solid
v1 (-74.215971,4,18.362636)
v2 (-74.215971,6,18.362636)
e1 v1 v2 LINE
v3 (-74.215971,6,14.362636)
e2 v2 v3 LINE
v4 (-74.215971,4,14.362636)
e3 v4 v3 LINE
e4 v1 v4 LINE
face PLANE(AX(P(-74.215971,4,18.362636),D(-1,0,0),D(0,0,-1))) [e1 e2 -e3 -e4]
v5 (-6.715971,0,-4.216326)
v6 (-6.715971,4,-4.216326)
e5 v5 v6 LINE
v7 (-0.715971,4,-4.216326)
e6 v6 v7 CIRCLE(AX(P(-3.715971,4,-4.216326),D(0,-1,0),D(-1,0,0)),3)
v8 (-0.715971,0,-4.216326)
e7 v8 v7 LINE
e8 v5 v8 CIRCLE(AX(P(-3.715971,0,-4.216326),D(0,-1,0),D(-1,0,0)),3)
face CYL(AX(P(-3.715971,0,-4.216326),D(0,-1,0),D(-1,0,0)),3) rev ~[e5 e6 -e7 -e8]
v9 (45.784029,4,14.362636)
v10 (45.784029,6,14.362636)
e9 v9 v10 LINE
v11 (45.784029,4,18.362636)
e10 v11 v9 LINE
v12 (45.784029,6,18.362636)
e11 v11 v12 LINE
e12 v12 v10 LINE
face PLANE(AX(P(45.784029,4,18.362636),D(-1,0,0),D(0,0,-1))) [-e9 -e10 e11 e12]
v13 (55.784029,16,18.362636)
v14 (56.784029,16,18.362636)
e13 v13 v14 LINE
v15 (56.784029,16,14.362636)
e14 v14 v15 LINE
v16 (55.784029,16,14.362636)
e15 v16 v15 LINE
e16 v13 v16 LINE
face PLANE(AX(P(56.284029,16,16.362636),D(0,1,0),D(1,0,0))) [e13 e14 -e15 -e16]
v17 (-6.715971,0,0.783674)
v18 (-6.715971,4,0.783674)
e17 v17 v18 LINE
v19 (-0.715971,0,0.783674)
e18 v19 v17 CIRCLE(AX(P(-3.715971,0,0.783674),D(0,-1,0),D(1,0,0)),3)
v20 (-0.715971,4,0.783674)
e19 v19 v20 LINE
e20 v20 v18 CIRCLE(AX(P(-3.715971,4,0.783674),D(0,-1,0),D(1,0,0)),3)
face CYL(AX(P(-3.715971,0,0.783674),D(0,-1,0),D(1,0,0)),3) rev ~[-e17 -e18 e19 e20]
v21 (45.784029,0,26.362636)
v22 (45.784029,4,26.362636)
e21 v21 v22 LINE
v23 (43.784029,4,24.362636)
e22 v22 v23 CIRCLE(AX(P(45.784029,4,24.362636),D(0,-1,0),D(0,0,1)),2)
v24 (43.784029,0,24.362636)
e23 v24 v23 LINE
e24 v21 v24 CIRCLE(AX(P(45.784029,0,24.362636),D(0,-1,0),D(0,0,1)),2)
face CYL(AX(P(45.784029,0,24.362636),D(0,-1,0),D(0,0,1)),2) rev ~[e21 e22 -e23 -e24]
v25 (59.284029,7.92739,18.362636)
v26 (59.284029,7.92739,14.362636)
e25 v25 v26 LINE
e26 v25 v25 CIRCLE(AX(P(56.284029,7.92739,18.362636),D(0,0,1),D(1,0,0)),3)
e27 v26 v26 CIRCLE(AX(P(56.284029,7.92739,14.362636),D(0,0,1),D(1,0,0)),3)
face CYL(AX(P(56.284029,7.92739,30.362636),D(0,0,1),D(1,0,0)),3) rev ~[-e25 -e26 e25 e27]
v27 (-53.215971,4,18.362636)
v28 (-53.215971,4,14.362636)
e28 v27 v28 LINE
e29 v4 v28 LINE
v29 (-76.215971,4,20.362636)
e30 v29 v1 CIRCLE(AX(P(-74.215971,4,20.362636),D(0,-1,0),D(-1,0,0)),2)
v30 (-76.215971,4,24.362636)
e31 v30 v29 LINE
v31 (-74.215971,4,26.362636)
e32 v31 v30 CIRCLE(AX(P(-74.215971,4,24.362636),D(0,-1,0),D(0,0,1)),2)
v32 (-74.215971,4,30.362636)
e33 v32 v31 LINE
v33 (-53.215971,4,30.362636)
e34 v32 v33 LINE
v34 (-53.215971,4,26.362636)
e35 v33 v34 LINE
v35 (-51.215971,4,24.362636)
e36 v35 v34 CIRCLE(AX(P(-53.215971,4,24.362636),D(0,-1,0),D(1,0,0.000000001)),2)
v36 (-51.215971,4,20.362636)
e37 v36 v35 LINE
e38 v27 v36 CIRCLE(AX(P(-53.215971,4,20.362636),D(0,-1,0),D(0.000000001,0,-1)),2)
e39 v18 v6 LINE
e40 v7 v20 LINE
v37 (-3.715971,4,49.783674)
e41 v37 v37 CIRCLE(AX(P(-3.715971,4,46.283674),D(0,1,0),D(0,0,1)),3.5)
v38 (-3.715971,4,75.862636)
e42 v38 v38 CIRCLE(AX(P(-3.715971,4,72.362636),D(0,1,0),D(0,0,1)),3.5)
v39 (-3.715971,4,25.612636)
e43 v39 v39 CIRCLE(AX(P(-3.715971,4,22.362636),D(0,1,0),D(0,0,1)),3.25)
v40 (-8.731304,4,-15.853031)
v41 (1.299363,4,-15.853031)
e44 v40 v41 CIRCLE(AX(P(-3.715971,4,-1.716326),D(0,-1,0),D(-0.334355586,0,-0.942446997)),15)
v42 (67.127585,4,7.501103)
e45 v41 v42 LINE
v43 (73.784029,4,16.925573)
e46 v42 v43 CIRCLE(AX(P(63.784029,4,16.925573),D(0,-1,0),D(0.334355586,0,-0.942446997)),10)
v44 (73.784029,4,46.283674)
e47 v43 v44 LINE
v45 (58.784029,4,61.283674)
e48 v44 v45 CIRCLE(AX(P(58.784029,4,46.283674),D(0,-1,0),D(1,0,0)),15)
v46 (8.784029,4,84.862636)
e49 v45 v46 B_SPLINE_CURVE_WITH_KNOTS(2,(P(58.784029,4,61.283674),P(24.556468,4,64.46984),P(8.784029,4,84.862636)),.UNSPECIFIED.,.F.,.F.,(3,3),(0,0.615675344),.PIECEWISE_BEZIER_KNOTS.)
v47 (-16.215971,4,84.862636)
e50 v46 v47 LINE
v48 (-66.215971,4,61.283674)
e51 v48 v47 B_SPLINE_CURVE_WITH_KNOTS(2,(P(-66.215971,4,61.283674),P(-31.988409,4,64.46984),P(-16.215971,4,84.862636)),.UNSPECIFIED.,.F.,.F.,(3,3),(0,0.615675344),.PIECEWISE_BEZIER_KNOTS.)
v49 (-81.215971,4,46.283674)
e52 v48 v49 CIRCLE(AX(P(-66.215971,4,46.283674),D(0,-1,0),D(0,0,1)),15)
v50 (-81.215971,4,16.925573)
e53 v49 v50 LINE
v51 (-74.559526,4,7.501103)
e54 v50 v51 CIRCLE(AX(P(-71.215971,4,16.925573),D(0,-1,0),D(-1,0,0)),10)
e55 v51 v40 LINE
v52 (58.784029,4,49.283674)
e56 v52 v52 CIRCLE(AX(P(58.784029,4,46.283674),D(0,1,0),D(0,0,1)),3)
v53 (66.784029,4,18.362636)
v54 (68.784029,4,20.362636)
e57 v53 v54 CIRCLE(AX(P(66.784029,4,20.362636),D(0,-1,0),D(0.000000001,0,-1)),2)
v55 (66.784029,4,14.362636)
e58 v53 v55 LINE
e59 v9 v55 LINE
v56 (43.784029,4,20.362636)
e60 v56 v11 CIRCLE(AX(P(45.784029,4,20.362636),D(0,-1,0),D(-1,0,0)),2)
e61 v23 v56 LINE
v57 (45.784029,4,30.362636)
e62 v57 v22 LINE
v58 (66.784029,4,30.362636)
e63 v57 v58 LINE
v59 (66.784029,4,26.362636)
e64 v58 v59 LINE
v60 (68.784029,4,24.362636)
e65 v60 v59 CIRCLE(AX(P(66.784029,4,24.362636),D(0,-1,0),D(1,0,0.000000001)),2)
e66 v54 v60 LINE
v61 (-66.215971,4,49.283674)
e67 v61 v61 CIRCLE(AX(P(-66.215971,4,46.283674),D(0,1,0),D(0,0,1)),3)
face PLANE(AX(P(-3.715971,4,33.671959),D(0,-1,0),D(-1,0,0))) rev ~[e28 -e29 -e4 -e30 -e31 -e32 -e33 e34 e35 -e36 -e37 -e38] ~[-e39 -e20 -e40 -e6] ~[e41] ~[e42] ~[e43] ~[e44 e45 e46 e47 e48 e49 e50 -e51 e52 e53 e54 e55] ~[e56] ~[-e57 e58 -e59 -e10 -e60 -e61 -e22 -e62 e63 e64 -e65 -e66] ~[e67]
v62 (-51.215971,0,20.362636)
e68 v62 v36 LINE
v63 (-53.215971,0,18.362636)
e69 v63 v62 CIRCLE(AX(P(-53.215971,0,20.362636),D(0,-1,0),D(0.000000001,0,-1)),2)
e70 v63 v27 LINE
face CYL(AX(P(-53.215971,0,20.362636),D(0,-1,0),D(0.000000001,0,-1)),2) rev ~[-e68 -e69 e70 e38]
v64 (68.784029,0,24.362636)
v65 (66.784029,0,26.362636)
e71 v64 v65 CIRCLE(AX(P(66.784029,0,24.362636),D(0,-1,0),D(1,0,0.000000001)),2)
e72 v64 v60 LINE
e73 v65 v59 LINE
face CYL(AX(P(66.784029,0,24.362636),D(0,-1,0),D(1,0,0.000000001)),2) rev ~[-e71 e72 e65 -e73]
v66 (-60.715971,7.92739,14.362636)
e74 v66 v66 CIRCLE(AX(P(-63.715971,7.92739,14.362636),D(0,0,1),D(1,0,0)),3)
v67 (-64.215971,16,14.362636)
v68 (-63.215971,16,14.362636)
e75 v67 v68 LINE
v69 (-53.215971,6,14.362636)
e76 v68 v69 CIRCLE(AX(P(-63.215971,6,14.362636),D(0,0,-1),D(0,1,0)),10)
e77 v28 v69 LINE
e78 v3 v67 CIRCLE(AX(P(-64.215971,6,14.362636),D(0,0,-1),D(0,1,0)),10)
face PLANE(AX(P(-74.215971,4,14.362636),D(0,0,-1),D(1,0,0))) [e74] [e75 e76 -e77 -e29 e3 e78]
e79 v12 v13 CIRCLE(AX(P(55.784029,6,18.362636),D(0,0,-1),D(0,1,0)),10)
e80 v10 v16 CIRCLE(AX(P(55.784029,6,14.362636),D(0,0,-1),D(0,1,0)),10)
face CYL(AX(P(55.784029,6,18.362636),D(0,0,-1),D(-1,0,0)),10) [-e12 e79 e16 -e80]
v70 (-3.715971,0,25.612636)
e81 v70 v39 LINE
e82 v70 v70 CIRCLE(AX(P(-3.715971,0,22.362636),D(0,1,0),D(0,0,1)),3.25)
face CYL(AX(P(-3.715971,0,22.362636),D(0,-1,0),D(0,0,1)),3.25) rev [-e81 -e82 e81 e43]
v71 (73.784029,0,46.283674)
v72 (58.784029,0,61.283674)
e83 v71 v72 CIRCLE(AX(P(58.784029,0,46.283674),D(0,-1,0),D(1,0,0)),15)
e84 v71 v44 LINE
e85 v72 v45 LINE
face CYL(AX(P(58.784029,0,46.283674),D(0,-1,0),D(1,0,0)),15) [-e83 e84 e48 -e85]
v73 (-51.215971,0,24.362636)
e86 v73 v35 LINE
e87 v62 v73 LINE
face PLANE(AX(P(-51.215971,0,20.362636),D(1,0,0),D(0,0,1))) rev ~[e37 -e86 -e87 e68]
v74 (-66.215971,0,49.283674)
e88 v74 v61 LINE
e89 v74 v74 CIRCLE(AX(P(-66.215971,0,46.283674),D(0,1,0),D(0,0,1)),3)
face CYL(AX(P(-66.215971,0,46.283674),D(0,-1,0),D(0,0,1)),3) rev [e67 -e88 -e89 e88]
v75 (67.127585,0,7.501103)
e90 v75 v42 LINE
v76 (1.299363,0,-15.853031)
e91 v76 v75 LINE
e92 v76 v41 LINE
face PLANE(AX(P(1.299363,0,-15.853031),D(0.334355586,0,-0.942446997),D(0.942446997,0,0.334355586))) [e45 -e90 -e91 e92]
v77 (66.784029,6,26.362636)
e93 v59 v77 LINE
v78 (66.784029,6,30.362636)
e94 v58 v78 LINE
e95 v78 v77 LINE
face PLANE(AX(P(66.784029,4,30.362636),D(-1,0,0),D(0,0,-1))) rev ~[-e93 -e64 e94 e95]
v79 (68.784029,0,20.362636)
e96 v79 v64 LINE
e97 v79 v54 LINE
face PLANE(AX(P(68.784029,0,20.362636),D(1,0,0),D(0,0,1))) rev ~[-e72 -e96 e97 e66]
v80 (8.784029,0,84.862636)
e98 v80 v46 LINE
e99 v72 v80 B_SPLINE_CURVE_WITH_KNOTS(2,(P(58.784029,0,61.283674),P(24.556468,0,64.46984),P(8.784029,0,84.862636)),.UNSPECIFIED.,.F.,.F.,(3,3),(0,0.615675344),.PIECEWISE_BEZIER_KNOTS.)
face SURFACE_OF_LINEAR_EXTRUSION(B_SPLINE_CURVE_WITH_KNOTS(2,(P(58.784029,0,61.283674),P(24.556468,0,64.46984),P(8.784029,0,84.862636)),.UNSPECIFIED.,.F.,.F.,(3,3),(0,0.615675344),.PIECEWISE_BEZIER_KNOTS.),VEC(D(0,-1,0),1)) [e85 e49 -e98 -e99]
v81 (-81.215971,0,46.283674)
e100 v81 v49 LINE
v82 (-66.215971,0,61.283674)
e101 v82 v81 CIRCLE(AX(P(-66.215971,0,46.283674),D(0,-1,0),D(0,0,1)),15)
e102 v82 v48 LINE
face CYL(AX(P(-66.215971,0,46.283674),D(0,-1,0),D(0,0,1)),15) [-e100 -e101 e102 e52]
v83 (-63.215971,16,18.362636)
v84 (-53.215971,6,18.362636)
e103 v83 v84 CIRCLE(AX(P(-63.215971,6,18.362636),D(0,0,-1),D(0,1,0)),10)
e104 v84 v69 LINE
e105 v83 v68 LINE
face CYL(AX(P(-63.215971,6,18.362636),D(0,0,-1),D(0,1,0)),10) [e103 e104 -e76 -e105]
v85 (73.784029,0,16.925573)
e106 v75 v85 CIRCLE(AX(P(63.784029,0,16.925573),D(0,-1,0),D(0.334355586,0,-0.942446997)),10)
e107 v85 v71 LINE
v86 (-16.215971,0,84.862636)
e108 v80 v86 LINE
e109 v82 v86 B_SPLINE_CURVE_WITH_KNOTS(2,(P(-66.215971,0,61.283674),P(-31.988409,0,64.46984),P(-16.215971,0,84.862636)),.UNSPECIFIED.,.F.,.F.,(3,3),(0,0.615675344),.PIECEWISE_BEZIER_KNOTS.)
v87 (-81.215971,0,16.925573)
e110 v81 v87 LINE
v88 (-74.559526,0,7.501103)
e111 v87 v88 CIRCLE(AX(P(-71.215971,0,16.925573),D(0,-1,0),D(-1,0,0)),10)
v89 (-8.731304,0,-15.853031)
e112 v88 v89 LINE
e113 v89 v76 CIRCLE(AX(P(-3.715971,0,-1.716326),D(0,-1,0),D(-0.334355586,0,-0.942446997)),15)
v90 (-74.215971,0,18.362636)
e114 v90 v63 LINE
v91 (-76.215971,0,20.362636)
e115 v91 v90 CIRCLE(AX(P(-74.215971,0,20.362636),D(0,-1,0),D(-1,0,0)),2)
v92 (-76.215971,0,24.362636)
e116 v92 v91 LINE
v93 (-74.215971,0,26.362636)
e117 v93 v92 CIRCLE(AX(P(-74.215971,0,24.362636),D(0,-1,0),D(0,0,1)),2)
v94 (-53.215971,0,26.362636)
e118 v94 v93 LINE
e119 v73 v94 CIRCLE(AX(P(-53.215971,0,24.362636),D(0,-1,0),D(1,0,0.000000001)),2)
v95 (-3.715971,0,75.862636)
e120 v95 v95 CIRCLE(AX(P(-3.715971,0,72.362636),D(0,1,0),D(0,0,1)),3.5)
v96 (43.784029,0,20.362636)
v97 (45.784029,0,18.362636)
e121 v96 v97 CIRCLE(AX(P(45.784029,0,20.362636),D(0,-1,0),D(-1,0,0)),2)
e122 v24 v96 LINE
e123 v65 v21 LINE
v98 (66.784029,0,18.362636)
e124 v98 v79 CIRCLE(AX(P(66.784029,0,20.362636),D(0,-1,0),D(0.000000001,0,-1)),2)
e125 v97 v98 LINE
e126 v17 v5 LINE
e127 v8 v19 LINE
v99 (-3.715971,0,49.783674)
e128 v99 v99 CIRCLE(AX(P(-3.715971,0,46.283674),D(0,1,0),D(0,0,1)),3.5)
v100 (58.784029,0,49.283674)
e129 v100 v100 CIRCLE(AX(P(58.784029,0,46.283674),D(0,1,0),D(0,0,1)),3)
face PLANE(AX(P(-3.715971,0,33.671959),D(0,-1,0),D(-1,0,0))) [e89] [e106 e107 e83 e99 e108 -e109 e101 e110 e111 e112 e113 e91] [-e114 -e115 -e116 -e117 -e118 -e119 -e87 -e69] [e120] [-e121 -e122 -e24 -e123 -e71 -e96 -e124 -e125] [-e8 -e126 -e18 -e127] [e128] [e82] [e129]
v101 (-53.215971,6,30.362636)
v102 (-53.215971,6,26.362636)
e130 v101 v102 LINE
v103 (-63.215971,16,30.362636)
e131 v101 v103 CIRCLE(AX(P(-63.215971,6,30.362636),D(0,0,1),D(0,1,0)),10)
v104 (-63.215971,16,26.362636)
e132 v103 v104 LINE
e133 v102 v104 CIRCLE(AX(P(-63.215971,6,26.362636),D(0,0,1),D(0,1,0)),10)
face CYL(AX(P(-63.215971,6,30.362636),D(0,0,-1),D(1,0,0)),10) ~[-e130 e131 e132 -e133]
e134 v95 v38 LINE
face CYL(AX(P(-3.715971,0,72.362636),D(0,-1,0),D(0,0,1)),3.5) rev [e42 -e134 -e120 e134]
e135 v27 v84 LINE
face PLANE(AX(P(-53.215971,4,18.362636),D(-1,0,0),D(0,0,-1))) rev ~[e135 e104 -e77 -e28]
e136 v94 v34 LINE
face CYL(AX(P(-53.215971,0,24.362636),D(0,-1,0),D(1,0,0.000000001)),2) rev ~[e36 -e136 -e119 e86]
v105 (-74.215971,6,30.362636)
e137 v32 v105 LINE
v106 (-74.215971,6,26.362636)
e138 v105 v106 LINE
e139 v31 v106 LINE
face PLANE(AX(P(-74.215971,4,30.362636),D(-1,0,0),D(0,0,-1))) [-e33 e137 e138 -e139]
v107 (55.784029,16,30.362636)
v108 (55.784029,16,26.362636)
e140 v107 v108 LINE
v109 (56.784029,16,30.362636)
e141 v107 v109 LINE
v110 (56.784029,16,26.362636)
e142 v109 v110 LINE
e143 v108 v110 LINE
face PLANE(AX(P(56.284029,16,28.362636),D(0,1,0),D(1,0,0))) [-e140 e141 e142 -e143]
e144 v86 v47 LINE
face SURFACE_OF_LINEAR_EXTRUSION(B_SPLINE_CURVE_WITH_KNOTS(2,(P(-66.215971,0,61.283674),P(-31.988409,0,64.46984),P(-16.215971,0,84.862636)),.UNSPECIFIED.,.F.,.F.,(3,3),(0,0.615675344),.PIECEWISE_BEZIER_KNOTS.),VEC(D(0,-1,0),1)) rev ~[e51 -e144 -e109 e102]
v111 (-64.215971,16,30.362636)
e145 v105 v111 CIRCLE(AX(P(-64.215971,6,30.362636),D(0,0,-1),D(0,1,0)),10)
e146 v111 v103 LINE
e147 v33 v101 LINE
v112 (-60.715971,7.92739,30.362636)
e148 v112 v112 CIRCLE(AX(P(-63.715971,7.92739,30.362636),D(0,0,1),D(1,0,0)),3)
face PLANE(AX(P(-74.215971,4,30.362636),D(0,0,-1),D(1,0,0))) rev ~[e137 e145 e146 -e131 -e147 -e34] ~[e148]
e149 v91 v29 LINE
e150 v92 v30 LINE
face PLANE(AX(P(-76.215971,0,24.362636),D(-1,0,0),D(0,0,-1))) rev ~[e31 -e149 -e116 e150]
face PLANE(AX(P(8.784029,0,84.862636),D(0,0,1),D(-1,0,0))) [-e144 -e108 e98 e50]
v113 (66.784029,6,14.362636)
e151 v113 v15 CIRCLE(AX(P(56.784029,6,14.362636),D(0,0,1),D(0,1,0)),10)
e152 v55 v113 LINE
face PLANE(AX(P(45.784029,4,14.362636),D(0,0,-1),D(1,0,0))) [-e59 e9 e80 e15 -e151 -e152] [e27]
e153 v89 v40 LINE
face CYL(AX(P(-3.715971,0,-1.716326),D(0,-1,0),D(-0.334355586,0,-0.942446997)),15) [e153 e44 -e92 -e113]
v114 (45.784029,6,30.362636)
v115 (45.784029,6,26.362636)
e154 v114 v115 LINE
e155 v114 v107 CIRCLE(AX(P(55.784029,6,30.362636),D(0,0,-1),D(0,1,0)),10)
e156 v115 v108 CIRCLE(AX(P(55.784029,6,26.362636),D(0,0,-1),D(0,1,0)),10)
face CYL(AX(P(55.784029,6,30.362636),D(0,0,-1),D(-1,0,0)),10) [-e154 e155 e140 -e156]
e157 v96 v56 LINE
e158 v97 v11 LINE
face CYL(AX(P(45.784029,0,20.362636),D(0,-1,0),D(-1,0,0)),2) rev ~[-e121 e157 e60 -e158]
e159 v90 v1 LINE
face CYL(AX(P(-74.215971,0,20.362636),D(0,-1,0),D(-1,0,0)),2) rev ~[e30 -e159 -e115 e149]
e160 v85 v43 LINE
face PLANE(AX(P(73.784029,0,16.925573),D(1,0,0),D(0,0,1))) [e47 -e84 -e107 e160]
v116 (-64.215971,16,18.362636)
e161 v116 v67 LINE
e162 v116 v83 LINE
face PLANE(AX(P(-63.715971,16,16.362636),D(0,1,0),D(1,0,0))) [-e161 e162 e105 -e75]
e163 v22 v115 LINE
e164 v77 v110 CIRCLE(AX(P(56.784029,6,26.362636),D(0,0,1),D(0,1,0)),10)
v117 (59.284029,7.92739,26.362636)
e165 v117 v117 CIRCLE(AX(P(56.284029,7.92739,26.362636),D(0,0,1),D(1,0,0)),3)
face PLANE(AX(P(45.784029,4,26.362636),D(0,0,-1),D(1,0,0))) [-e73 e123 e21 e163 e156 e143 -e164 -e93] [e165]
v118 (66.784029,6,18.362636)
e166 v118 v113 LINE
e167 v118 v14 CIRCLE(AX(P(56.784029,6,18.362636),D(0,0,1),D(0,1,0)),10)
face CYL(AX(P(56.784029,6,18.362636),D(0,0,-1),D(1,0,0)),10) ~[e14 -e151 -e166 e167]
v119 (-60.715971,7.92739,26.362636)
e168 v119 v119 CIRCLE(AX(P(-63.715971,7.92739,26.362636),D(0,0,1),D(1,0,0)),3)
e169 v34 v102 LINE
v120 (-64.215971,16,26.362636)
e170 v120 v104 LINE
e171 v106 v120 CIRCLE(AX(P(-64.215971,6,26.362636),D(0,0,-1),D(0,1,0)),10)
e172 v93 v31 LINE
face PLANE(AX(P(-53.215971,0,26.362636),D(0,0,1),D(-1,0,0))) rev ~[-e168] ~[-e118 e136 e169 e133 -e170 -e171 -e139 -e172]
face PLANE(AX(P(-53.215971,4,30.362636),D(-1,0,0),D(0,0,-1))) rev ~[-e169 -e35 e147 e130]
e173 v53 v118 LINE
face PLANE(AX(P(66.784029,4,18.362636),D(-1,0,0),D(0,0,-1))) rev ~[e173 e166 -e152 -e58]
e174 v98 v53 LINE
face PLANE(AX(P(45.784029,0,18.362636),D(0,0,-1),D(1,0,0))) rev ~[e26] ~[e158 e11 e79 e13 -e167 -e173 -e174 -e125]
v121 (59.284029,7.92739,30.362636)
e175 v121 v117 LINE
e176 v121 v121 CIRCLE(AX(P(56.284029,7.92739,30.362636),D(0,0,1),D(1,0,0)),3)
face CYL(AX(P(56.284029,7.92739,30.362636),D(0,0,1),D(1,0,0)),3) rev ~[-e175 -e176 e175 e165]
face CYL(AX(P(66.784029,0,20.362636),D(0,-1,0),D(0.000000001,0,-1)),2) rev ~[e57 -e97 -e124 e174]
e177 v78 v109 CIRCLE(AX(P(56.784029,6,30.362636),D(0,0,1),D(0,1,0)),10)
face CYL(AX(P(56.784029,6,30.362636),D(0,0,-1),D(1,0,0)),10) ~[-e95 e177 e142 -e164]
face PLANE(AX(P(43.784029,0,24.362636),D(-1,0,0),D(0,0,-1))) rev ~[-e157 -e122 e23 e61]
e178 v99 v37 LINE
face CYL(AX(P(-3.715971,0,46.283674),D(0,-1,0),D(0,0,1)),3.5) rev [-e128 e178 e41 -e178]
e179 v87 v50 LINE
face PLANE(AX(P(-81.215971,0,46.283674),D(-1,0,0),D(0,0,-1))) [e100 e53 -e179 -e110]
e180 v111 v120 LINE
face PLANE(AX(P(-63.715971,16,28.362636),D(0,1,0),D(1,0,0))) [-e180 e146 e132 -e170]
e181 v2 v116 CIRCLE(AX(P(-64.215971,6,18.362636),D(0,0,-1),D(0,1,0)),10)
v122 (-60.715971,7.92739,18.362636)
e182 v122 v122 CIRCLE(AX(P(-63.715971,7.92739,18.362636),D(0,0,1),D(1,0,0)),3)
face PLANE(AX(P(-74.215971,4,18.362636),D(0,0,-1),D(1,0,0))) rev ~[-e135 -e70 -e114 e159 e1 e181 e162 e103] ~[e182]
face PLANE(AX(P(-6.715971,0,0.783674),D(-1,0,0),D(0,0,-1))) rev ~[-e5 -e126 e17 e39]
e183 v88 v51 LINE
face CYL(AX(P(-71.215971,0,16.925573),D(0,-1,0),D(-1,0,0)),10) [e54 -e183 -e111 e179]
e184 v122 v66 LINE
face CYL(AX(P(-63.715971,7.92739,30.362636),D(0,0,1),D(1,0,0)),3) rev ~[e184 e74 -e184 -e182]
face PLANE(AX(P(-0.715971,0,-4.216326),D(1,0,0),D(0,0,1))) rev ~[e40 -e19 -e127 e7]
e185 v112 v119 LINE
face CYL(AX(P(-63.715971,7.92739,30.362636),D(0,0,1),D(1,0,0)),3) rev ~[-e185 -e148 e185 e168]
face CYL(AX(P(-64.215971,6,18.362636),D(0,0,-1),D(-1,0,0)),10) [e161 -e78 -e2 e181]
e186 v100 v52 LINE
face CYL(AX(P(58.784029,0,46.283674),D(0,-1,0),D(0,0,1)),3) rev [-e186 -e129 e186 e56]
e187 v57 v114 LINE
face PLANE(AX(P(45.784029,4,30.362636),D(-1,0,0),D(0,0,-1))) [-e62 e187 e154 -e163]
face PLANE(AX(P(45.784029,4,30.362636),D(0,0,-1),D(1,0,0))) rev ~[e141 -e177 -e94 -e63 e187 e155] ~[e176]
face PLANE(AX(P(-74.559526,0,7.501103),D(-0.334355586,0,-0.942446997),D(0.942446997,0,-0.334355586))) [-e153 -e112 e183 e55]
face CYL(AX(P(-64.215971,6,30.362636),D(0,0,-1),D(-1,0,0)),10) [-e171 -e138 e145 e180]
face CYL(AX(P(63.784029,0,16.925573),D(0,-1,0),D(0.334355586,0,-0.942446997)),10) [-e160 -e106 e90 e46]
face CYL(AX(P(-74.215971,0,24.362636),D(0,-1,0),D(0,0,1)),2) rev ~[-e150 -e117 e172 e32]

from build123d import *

# Parameters (mm, degrees)
SKETCH2_R              = 3
SKETCH2_R_2            = 3.25
SKETCH2_R_3            = 3.5
MAINPLATEEXTRUDE_DEPTH = 4
SKETCH3_W              = 21
SKETCH3_H              = 4
TOPBEARING_DEPTH       = 12
FILLET1_R              = 10
TOPBEARINGCUT_REACH    = 101.107
SKETCH4_R              = 3


with BuildPart() as part:
    # Sketch2 → MainPlateExtrude (new body)
    with BuildSketch(Plane(origin=(0, 0, 0), x_dir=(1, 0, 0), z_dir=(0, 1, 0))):
        with BuildLine():
            Line((-81.215970545, -46.28367362), (-81.215970545, -16.925572983))
            ThreePointArc((-81.215970545, -16.925572983), (-79.384065752, -11.156498475), (-74.559526408, -7.501103014))
            Line((-74.559526408, -7.501103014), (-8.731304339, 15.853031333))
            ThreePointArc((-8.731304339, 15.853031333), (-3.715970545, 16.71632638), (1.299363248, 15.853031333))
            Line((1.299363248, 15.853031333), (67.127585317, -7.501103014))
            ThreePointArc((67.127585317, -7.501103014), (71.952124662, -11.156498475), (73.784029455, -16.925572983))
            Line((73.784029455, -16.925572983), (73.784029455, -46.28367362))
            ThreePointArc((73.784029455, -46.28367362), (69.390631173, -56.890275338), (58.784029455, -61.28367362))
            add(Edge.make_bspline(
                [(58.784029455, -61.28367362), (24.556467528, -64.469839896), (8.784029455, -84.862635588)],
                knots=[0, 0, 0, 0.615675344, 0.615675344, 0.615675344], degree=2))
            Line((8.784029455, -84.862635588), (-16.215970545, -84.862635588))
            add(Edge.make_bspline(
                [(-66.215970545, -61.28367362), (-31.988408619, -64.469839896), (-16.215970545, -84.862635588)],
                knots=[0, 0, 0, 0.615675344, 0.615675344, 0.615675344], degree=2))
            ThreePointArc((-66.215970545, -61.28367362), (-76.822572263, -56.890275338), (-81.215970545, -46.28367362))
        make_face()
        with Locations(Location((-66.215970545, -46.28367362, 0), (0, 0, 270))):
            Circle(SKETCH2_R, mode=Mode.SUBTRACT)
        with Locations(Location((58.784029455, -46.28367362, 0), (0, 0, 270))):
            Circle(SKETCH2_R, mode=Mode.SUBTRACT)
        with Locations(Location((-3.715970545, -22.362635588, 0), (0, 0, 270))):
            Circle(SKETCH2_R_2, mode=Mode.SUBTRACT)
        with Locations(Location((-3.715970545, -46.28367362, 0), (0, 0, 270))):
            Circle(SKETCH2_R_3, mode=Mode.SUBTRACT)
        with Locations(Location((-3.715970545, -72.362635588, 0), (0, 0, 270))):
            Circle(SKETCH2_R_3, mode=Mode.SUBTRACT)
        with BuildLine():
            Line((-74.215970545, -18.362635588), (-53.215970545, -18.362635588))
            ThreePointArc((-53.215970545, -18.362635588), (-51.801756983, -18.948422026), (-51.215970545, -20.362635588))
            Line((-51.215970545, -20.362635588), (-51.215970545, -24.362635588))
            ThreePointArc((-51.215970545, -24.362635588), (-51.801756983, -25.77684915), (-53.215970545, -26.362635588))
            Line((-53.215970545, -26.362635588), (-74.215970545, -26.362635588))
            ThreePointArc((-74.215970545, -26.362635588), (-75.630184108, -25.77684915), (-76.215970545, -24.362635588))
            Line((-76.215970545, -24.362635588), (-76.215970545, -20.362635588))
            ThreePointArc((-76.215970545, -20.362635588), (-75.630184108, -18.948422026), (-74.215970545, -18.362635588))
        make_face(mode=Mode.SUBTRACT)
        with BuildLine():
            Line((66.784029455, -26.362635588), (45.784029455, -26.362635588))
            ThreePointArc((45.784029455, -26.362635588), (44.369815892, -25.77684915), (43.784029455, -24.362635588))
            Line((43.784029455, -24.362635588), (43.784029455, -20.362635588))
            ThreePointArc((43.784029455, -20.362635588), (44.369815892, -18.948422026), (45.784029455, -18.362635588))
            Line((45.784029455, -18.362635588), (66.784029455, -18.362635588))
            ThreePointArc((66.784029455, -18.362635588), (68.198243017, -18.948422026), (68.784029455, -20.362635588))
            Line((68.784029455, -20.362635588), (68.784029455, -24.362635588))
            ThreePointArc((68.784029455, -24.362635588), (68.198243017, -25.77684915), (66.784029455, -26.362635588))
        make_face(mode=Mode.SUBTRACT)
        with BuildLine():
            Line((-0.715970545, 4.21632638), (-0.715970545, -0.78367362))
            ThreePointArc((-0.715970545, -0.78367362), (-3.715970545, -3.78367362), (-6.715970545, -0.78367362))
            Line((-6.715970545, -0.78367362), (-6.715970545, 4.21632638))
            ThreePointArc((-6.715970545, 4.21632638), (-3.715970545, 7.21632638), (-0.715970545, 4.21632638))
        make_face(mode=Mode.SUBTRACT)
    extrude(amount=MAINPLATEEXTRUDE_DEPTH)

    # Sketch3 → TopBearing (add)
    with BuildSketch(Plane(origin=(0, 4, 0), x_dir=(1, 0, 0), z_dir=(0, 1, 0))):
        with Locations((-63.715970545, -16.362635588)):
            Rectangle(SKETCH3_W, SKETCH3_H)
        with Locations((-63.715970545, -28.362635588)):
            Rectangle(SKETCH3_W, SKETCH3_H)
        with Locations((56.284029455, -28.362635588)):
            Rectangle(SKETCH3_W, SKETCH3_H)
        with Locations((56.284029455, -16.362635588)):
            Rectangle(SKETCH3_W, SKETCH3_H)
    extrude(amount=TOPBEARING_DEPTH)

    # Fillet1
    fillet1_edges = [part.edges().sort_by_distance(p)[0] for p in [
        (-74.215970545, 16, 16.362635588),
        (-53.215970545, 16, 16.362635588),
        (-74.215970545, 16, 28.362635588),
        (-53.215970545, 16, 28.362635588),
        (45.784029455, 16, 28.362635588),
        (66.784029455, 16, 28.362635588),
        (66.784029455, 16, 16.362635588),
        (45.784029455, 16, 16.362635588),
    ]]
    fillet(fillet1_edges, radius=FILLET1_R)

    # TopBearingCut: up to this face of the body (flat: up to its plane)
    topbearingcut_end = Plane(part.part.faces().sort_by_distance((-63.715970545, 9.226840692, 14.362635588))[0])
    # Sketch4 → TopBearingCut (cut, up to the picked face)
    with BuildSketch(Plane.XY.offset(30.362635588), mode=Mode.PRIVATE) as topbearingcut_sk1:
        with Locations((-63.715970545, 7.927390452)):
            Circle(SKETCH4_R)
    topbearingcut_tool1 = split(extrude(topbearingcut_sk1.sketch, amount=-TOPBEARINGCUT_REACH, mode=Mode.PRIVATE), bisect_by=topbearingcut_end, keep=Keep.BOTH, mode=Mode.PRIVATE)
    # Sketch4 → TopBearingCut (cut, up to the picked face)
    with BuildSketch(Plane.XY.offset(30.362635588), mode=Mode.PRIVATE) as topbearingcut_sk2:
        with Locations((56.284029455, 7.927390452)):
            Circle(SKETCH4_R)
    topbearingcut_tool2 = split(extrude(topbearingcut_sk2.sketch, amount=-TOPBEARINGCUT_REACH, mode=Mode.PRIVATE), bisect_by=topbearingcut_end, keep=Keep.BOTH, mode=Mode.PRIVATE)
    add(topbearingcut_tool1.solids().sort_by(Axis((-63.715971, 7.92739, 30.362636), (0, 0, -1)))[0], mode=Mode.SUBTRACT)
    add(topbearingcut_tool2.solids().sort_by(Axis((56.284029, 7.92739, 30.362636), (0, 0, -1)))[0], mode=Mode.SUBTRACT)


solid = part.part
